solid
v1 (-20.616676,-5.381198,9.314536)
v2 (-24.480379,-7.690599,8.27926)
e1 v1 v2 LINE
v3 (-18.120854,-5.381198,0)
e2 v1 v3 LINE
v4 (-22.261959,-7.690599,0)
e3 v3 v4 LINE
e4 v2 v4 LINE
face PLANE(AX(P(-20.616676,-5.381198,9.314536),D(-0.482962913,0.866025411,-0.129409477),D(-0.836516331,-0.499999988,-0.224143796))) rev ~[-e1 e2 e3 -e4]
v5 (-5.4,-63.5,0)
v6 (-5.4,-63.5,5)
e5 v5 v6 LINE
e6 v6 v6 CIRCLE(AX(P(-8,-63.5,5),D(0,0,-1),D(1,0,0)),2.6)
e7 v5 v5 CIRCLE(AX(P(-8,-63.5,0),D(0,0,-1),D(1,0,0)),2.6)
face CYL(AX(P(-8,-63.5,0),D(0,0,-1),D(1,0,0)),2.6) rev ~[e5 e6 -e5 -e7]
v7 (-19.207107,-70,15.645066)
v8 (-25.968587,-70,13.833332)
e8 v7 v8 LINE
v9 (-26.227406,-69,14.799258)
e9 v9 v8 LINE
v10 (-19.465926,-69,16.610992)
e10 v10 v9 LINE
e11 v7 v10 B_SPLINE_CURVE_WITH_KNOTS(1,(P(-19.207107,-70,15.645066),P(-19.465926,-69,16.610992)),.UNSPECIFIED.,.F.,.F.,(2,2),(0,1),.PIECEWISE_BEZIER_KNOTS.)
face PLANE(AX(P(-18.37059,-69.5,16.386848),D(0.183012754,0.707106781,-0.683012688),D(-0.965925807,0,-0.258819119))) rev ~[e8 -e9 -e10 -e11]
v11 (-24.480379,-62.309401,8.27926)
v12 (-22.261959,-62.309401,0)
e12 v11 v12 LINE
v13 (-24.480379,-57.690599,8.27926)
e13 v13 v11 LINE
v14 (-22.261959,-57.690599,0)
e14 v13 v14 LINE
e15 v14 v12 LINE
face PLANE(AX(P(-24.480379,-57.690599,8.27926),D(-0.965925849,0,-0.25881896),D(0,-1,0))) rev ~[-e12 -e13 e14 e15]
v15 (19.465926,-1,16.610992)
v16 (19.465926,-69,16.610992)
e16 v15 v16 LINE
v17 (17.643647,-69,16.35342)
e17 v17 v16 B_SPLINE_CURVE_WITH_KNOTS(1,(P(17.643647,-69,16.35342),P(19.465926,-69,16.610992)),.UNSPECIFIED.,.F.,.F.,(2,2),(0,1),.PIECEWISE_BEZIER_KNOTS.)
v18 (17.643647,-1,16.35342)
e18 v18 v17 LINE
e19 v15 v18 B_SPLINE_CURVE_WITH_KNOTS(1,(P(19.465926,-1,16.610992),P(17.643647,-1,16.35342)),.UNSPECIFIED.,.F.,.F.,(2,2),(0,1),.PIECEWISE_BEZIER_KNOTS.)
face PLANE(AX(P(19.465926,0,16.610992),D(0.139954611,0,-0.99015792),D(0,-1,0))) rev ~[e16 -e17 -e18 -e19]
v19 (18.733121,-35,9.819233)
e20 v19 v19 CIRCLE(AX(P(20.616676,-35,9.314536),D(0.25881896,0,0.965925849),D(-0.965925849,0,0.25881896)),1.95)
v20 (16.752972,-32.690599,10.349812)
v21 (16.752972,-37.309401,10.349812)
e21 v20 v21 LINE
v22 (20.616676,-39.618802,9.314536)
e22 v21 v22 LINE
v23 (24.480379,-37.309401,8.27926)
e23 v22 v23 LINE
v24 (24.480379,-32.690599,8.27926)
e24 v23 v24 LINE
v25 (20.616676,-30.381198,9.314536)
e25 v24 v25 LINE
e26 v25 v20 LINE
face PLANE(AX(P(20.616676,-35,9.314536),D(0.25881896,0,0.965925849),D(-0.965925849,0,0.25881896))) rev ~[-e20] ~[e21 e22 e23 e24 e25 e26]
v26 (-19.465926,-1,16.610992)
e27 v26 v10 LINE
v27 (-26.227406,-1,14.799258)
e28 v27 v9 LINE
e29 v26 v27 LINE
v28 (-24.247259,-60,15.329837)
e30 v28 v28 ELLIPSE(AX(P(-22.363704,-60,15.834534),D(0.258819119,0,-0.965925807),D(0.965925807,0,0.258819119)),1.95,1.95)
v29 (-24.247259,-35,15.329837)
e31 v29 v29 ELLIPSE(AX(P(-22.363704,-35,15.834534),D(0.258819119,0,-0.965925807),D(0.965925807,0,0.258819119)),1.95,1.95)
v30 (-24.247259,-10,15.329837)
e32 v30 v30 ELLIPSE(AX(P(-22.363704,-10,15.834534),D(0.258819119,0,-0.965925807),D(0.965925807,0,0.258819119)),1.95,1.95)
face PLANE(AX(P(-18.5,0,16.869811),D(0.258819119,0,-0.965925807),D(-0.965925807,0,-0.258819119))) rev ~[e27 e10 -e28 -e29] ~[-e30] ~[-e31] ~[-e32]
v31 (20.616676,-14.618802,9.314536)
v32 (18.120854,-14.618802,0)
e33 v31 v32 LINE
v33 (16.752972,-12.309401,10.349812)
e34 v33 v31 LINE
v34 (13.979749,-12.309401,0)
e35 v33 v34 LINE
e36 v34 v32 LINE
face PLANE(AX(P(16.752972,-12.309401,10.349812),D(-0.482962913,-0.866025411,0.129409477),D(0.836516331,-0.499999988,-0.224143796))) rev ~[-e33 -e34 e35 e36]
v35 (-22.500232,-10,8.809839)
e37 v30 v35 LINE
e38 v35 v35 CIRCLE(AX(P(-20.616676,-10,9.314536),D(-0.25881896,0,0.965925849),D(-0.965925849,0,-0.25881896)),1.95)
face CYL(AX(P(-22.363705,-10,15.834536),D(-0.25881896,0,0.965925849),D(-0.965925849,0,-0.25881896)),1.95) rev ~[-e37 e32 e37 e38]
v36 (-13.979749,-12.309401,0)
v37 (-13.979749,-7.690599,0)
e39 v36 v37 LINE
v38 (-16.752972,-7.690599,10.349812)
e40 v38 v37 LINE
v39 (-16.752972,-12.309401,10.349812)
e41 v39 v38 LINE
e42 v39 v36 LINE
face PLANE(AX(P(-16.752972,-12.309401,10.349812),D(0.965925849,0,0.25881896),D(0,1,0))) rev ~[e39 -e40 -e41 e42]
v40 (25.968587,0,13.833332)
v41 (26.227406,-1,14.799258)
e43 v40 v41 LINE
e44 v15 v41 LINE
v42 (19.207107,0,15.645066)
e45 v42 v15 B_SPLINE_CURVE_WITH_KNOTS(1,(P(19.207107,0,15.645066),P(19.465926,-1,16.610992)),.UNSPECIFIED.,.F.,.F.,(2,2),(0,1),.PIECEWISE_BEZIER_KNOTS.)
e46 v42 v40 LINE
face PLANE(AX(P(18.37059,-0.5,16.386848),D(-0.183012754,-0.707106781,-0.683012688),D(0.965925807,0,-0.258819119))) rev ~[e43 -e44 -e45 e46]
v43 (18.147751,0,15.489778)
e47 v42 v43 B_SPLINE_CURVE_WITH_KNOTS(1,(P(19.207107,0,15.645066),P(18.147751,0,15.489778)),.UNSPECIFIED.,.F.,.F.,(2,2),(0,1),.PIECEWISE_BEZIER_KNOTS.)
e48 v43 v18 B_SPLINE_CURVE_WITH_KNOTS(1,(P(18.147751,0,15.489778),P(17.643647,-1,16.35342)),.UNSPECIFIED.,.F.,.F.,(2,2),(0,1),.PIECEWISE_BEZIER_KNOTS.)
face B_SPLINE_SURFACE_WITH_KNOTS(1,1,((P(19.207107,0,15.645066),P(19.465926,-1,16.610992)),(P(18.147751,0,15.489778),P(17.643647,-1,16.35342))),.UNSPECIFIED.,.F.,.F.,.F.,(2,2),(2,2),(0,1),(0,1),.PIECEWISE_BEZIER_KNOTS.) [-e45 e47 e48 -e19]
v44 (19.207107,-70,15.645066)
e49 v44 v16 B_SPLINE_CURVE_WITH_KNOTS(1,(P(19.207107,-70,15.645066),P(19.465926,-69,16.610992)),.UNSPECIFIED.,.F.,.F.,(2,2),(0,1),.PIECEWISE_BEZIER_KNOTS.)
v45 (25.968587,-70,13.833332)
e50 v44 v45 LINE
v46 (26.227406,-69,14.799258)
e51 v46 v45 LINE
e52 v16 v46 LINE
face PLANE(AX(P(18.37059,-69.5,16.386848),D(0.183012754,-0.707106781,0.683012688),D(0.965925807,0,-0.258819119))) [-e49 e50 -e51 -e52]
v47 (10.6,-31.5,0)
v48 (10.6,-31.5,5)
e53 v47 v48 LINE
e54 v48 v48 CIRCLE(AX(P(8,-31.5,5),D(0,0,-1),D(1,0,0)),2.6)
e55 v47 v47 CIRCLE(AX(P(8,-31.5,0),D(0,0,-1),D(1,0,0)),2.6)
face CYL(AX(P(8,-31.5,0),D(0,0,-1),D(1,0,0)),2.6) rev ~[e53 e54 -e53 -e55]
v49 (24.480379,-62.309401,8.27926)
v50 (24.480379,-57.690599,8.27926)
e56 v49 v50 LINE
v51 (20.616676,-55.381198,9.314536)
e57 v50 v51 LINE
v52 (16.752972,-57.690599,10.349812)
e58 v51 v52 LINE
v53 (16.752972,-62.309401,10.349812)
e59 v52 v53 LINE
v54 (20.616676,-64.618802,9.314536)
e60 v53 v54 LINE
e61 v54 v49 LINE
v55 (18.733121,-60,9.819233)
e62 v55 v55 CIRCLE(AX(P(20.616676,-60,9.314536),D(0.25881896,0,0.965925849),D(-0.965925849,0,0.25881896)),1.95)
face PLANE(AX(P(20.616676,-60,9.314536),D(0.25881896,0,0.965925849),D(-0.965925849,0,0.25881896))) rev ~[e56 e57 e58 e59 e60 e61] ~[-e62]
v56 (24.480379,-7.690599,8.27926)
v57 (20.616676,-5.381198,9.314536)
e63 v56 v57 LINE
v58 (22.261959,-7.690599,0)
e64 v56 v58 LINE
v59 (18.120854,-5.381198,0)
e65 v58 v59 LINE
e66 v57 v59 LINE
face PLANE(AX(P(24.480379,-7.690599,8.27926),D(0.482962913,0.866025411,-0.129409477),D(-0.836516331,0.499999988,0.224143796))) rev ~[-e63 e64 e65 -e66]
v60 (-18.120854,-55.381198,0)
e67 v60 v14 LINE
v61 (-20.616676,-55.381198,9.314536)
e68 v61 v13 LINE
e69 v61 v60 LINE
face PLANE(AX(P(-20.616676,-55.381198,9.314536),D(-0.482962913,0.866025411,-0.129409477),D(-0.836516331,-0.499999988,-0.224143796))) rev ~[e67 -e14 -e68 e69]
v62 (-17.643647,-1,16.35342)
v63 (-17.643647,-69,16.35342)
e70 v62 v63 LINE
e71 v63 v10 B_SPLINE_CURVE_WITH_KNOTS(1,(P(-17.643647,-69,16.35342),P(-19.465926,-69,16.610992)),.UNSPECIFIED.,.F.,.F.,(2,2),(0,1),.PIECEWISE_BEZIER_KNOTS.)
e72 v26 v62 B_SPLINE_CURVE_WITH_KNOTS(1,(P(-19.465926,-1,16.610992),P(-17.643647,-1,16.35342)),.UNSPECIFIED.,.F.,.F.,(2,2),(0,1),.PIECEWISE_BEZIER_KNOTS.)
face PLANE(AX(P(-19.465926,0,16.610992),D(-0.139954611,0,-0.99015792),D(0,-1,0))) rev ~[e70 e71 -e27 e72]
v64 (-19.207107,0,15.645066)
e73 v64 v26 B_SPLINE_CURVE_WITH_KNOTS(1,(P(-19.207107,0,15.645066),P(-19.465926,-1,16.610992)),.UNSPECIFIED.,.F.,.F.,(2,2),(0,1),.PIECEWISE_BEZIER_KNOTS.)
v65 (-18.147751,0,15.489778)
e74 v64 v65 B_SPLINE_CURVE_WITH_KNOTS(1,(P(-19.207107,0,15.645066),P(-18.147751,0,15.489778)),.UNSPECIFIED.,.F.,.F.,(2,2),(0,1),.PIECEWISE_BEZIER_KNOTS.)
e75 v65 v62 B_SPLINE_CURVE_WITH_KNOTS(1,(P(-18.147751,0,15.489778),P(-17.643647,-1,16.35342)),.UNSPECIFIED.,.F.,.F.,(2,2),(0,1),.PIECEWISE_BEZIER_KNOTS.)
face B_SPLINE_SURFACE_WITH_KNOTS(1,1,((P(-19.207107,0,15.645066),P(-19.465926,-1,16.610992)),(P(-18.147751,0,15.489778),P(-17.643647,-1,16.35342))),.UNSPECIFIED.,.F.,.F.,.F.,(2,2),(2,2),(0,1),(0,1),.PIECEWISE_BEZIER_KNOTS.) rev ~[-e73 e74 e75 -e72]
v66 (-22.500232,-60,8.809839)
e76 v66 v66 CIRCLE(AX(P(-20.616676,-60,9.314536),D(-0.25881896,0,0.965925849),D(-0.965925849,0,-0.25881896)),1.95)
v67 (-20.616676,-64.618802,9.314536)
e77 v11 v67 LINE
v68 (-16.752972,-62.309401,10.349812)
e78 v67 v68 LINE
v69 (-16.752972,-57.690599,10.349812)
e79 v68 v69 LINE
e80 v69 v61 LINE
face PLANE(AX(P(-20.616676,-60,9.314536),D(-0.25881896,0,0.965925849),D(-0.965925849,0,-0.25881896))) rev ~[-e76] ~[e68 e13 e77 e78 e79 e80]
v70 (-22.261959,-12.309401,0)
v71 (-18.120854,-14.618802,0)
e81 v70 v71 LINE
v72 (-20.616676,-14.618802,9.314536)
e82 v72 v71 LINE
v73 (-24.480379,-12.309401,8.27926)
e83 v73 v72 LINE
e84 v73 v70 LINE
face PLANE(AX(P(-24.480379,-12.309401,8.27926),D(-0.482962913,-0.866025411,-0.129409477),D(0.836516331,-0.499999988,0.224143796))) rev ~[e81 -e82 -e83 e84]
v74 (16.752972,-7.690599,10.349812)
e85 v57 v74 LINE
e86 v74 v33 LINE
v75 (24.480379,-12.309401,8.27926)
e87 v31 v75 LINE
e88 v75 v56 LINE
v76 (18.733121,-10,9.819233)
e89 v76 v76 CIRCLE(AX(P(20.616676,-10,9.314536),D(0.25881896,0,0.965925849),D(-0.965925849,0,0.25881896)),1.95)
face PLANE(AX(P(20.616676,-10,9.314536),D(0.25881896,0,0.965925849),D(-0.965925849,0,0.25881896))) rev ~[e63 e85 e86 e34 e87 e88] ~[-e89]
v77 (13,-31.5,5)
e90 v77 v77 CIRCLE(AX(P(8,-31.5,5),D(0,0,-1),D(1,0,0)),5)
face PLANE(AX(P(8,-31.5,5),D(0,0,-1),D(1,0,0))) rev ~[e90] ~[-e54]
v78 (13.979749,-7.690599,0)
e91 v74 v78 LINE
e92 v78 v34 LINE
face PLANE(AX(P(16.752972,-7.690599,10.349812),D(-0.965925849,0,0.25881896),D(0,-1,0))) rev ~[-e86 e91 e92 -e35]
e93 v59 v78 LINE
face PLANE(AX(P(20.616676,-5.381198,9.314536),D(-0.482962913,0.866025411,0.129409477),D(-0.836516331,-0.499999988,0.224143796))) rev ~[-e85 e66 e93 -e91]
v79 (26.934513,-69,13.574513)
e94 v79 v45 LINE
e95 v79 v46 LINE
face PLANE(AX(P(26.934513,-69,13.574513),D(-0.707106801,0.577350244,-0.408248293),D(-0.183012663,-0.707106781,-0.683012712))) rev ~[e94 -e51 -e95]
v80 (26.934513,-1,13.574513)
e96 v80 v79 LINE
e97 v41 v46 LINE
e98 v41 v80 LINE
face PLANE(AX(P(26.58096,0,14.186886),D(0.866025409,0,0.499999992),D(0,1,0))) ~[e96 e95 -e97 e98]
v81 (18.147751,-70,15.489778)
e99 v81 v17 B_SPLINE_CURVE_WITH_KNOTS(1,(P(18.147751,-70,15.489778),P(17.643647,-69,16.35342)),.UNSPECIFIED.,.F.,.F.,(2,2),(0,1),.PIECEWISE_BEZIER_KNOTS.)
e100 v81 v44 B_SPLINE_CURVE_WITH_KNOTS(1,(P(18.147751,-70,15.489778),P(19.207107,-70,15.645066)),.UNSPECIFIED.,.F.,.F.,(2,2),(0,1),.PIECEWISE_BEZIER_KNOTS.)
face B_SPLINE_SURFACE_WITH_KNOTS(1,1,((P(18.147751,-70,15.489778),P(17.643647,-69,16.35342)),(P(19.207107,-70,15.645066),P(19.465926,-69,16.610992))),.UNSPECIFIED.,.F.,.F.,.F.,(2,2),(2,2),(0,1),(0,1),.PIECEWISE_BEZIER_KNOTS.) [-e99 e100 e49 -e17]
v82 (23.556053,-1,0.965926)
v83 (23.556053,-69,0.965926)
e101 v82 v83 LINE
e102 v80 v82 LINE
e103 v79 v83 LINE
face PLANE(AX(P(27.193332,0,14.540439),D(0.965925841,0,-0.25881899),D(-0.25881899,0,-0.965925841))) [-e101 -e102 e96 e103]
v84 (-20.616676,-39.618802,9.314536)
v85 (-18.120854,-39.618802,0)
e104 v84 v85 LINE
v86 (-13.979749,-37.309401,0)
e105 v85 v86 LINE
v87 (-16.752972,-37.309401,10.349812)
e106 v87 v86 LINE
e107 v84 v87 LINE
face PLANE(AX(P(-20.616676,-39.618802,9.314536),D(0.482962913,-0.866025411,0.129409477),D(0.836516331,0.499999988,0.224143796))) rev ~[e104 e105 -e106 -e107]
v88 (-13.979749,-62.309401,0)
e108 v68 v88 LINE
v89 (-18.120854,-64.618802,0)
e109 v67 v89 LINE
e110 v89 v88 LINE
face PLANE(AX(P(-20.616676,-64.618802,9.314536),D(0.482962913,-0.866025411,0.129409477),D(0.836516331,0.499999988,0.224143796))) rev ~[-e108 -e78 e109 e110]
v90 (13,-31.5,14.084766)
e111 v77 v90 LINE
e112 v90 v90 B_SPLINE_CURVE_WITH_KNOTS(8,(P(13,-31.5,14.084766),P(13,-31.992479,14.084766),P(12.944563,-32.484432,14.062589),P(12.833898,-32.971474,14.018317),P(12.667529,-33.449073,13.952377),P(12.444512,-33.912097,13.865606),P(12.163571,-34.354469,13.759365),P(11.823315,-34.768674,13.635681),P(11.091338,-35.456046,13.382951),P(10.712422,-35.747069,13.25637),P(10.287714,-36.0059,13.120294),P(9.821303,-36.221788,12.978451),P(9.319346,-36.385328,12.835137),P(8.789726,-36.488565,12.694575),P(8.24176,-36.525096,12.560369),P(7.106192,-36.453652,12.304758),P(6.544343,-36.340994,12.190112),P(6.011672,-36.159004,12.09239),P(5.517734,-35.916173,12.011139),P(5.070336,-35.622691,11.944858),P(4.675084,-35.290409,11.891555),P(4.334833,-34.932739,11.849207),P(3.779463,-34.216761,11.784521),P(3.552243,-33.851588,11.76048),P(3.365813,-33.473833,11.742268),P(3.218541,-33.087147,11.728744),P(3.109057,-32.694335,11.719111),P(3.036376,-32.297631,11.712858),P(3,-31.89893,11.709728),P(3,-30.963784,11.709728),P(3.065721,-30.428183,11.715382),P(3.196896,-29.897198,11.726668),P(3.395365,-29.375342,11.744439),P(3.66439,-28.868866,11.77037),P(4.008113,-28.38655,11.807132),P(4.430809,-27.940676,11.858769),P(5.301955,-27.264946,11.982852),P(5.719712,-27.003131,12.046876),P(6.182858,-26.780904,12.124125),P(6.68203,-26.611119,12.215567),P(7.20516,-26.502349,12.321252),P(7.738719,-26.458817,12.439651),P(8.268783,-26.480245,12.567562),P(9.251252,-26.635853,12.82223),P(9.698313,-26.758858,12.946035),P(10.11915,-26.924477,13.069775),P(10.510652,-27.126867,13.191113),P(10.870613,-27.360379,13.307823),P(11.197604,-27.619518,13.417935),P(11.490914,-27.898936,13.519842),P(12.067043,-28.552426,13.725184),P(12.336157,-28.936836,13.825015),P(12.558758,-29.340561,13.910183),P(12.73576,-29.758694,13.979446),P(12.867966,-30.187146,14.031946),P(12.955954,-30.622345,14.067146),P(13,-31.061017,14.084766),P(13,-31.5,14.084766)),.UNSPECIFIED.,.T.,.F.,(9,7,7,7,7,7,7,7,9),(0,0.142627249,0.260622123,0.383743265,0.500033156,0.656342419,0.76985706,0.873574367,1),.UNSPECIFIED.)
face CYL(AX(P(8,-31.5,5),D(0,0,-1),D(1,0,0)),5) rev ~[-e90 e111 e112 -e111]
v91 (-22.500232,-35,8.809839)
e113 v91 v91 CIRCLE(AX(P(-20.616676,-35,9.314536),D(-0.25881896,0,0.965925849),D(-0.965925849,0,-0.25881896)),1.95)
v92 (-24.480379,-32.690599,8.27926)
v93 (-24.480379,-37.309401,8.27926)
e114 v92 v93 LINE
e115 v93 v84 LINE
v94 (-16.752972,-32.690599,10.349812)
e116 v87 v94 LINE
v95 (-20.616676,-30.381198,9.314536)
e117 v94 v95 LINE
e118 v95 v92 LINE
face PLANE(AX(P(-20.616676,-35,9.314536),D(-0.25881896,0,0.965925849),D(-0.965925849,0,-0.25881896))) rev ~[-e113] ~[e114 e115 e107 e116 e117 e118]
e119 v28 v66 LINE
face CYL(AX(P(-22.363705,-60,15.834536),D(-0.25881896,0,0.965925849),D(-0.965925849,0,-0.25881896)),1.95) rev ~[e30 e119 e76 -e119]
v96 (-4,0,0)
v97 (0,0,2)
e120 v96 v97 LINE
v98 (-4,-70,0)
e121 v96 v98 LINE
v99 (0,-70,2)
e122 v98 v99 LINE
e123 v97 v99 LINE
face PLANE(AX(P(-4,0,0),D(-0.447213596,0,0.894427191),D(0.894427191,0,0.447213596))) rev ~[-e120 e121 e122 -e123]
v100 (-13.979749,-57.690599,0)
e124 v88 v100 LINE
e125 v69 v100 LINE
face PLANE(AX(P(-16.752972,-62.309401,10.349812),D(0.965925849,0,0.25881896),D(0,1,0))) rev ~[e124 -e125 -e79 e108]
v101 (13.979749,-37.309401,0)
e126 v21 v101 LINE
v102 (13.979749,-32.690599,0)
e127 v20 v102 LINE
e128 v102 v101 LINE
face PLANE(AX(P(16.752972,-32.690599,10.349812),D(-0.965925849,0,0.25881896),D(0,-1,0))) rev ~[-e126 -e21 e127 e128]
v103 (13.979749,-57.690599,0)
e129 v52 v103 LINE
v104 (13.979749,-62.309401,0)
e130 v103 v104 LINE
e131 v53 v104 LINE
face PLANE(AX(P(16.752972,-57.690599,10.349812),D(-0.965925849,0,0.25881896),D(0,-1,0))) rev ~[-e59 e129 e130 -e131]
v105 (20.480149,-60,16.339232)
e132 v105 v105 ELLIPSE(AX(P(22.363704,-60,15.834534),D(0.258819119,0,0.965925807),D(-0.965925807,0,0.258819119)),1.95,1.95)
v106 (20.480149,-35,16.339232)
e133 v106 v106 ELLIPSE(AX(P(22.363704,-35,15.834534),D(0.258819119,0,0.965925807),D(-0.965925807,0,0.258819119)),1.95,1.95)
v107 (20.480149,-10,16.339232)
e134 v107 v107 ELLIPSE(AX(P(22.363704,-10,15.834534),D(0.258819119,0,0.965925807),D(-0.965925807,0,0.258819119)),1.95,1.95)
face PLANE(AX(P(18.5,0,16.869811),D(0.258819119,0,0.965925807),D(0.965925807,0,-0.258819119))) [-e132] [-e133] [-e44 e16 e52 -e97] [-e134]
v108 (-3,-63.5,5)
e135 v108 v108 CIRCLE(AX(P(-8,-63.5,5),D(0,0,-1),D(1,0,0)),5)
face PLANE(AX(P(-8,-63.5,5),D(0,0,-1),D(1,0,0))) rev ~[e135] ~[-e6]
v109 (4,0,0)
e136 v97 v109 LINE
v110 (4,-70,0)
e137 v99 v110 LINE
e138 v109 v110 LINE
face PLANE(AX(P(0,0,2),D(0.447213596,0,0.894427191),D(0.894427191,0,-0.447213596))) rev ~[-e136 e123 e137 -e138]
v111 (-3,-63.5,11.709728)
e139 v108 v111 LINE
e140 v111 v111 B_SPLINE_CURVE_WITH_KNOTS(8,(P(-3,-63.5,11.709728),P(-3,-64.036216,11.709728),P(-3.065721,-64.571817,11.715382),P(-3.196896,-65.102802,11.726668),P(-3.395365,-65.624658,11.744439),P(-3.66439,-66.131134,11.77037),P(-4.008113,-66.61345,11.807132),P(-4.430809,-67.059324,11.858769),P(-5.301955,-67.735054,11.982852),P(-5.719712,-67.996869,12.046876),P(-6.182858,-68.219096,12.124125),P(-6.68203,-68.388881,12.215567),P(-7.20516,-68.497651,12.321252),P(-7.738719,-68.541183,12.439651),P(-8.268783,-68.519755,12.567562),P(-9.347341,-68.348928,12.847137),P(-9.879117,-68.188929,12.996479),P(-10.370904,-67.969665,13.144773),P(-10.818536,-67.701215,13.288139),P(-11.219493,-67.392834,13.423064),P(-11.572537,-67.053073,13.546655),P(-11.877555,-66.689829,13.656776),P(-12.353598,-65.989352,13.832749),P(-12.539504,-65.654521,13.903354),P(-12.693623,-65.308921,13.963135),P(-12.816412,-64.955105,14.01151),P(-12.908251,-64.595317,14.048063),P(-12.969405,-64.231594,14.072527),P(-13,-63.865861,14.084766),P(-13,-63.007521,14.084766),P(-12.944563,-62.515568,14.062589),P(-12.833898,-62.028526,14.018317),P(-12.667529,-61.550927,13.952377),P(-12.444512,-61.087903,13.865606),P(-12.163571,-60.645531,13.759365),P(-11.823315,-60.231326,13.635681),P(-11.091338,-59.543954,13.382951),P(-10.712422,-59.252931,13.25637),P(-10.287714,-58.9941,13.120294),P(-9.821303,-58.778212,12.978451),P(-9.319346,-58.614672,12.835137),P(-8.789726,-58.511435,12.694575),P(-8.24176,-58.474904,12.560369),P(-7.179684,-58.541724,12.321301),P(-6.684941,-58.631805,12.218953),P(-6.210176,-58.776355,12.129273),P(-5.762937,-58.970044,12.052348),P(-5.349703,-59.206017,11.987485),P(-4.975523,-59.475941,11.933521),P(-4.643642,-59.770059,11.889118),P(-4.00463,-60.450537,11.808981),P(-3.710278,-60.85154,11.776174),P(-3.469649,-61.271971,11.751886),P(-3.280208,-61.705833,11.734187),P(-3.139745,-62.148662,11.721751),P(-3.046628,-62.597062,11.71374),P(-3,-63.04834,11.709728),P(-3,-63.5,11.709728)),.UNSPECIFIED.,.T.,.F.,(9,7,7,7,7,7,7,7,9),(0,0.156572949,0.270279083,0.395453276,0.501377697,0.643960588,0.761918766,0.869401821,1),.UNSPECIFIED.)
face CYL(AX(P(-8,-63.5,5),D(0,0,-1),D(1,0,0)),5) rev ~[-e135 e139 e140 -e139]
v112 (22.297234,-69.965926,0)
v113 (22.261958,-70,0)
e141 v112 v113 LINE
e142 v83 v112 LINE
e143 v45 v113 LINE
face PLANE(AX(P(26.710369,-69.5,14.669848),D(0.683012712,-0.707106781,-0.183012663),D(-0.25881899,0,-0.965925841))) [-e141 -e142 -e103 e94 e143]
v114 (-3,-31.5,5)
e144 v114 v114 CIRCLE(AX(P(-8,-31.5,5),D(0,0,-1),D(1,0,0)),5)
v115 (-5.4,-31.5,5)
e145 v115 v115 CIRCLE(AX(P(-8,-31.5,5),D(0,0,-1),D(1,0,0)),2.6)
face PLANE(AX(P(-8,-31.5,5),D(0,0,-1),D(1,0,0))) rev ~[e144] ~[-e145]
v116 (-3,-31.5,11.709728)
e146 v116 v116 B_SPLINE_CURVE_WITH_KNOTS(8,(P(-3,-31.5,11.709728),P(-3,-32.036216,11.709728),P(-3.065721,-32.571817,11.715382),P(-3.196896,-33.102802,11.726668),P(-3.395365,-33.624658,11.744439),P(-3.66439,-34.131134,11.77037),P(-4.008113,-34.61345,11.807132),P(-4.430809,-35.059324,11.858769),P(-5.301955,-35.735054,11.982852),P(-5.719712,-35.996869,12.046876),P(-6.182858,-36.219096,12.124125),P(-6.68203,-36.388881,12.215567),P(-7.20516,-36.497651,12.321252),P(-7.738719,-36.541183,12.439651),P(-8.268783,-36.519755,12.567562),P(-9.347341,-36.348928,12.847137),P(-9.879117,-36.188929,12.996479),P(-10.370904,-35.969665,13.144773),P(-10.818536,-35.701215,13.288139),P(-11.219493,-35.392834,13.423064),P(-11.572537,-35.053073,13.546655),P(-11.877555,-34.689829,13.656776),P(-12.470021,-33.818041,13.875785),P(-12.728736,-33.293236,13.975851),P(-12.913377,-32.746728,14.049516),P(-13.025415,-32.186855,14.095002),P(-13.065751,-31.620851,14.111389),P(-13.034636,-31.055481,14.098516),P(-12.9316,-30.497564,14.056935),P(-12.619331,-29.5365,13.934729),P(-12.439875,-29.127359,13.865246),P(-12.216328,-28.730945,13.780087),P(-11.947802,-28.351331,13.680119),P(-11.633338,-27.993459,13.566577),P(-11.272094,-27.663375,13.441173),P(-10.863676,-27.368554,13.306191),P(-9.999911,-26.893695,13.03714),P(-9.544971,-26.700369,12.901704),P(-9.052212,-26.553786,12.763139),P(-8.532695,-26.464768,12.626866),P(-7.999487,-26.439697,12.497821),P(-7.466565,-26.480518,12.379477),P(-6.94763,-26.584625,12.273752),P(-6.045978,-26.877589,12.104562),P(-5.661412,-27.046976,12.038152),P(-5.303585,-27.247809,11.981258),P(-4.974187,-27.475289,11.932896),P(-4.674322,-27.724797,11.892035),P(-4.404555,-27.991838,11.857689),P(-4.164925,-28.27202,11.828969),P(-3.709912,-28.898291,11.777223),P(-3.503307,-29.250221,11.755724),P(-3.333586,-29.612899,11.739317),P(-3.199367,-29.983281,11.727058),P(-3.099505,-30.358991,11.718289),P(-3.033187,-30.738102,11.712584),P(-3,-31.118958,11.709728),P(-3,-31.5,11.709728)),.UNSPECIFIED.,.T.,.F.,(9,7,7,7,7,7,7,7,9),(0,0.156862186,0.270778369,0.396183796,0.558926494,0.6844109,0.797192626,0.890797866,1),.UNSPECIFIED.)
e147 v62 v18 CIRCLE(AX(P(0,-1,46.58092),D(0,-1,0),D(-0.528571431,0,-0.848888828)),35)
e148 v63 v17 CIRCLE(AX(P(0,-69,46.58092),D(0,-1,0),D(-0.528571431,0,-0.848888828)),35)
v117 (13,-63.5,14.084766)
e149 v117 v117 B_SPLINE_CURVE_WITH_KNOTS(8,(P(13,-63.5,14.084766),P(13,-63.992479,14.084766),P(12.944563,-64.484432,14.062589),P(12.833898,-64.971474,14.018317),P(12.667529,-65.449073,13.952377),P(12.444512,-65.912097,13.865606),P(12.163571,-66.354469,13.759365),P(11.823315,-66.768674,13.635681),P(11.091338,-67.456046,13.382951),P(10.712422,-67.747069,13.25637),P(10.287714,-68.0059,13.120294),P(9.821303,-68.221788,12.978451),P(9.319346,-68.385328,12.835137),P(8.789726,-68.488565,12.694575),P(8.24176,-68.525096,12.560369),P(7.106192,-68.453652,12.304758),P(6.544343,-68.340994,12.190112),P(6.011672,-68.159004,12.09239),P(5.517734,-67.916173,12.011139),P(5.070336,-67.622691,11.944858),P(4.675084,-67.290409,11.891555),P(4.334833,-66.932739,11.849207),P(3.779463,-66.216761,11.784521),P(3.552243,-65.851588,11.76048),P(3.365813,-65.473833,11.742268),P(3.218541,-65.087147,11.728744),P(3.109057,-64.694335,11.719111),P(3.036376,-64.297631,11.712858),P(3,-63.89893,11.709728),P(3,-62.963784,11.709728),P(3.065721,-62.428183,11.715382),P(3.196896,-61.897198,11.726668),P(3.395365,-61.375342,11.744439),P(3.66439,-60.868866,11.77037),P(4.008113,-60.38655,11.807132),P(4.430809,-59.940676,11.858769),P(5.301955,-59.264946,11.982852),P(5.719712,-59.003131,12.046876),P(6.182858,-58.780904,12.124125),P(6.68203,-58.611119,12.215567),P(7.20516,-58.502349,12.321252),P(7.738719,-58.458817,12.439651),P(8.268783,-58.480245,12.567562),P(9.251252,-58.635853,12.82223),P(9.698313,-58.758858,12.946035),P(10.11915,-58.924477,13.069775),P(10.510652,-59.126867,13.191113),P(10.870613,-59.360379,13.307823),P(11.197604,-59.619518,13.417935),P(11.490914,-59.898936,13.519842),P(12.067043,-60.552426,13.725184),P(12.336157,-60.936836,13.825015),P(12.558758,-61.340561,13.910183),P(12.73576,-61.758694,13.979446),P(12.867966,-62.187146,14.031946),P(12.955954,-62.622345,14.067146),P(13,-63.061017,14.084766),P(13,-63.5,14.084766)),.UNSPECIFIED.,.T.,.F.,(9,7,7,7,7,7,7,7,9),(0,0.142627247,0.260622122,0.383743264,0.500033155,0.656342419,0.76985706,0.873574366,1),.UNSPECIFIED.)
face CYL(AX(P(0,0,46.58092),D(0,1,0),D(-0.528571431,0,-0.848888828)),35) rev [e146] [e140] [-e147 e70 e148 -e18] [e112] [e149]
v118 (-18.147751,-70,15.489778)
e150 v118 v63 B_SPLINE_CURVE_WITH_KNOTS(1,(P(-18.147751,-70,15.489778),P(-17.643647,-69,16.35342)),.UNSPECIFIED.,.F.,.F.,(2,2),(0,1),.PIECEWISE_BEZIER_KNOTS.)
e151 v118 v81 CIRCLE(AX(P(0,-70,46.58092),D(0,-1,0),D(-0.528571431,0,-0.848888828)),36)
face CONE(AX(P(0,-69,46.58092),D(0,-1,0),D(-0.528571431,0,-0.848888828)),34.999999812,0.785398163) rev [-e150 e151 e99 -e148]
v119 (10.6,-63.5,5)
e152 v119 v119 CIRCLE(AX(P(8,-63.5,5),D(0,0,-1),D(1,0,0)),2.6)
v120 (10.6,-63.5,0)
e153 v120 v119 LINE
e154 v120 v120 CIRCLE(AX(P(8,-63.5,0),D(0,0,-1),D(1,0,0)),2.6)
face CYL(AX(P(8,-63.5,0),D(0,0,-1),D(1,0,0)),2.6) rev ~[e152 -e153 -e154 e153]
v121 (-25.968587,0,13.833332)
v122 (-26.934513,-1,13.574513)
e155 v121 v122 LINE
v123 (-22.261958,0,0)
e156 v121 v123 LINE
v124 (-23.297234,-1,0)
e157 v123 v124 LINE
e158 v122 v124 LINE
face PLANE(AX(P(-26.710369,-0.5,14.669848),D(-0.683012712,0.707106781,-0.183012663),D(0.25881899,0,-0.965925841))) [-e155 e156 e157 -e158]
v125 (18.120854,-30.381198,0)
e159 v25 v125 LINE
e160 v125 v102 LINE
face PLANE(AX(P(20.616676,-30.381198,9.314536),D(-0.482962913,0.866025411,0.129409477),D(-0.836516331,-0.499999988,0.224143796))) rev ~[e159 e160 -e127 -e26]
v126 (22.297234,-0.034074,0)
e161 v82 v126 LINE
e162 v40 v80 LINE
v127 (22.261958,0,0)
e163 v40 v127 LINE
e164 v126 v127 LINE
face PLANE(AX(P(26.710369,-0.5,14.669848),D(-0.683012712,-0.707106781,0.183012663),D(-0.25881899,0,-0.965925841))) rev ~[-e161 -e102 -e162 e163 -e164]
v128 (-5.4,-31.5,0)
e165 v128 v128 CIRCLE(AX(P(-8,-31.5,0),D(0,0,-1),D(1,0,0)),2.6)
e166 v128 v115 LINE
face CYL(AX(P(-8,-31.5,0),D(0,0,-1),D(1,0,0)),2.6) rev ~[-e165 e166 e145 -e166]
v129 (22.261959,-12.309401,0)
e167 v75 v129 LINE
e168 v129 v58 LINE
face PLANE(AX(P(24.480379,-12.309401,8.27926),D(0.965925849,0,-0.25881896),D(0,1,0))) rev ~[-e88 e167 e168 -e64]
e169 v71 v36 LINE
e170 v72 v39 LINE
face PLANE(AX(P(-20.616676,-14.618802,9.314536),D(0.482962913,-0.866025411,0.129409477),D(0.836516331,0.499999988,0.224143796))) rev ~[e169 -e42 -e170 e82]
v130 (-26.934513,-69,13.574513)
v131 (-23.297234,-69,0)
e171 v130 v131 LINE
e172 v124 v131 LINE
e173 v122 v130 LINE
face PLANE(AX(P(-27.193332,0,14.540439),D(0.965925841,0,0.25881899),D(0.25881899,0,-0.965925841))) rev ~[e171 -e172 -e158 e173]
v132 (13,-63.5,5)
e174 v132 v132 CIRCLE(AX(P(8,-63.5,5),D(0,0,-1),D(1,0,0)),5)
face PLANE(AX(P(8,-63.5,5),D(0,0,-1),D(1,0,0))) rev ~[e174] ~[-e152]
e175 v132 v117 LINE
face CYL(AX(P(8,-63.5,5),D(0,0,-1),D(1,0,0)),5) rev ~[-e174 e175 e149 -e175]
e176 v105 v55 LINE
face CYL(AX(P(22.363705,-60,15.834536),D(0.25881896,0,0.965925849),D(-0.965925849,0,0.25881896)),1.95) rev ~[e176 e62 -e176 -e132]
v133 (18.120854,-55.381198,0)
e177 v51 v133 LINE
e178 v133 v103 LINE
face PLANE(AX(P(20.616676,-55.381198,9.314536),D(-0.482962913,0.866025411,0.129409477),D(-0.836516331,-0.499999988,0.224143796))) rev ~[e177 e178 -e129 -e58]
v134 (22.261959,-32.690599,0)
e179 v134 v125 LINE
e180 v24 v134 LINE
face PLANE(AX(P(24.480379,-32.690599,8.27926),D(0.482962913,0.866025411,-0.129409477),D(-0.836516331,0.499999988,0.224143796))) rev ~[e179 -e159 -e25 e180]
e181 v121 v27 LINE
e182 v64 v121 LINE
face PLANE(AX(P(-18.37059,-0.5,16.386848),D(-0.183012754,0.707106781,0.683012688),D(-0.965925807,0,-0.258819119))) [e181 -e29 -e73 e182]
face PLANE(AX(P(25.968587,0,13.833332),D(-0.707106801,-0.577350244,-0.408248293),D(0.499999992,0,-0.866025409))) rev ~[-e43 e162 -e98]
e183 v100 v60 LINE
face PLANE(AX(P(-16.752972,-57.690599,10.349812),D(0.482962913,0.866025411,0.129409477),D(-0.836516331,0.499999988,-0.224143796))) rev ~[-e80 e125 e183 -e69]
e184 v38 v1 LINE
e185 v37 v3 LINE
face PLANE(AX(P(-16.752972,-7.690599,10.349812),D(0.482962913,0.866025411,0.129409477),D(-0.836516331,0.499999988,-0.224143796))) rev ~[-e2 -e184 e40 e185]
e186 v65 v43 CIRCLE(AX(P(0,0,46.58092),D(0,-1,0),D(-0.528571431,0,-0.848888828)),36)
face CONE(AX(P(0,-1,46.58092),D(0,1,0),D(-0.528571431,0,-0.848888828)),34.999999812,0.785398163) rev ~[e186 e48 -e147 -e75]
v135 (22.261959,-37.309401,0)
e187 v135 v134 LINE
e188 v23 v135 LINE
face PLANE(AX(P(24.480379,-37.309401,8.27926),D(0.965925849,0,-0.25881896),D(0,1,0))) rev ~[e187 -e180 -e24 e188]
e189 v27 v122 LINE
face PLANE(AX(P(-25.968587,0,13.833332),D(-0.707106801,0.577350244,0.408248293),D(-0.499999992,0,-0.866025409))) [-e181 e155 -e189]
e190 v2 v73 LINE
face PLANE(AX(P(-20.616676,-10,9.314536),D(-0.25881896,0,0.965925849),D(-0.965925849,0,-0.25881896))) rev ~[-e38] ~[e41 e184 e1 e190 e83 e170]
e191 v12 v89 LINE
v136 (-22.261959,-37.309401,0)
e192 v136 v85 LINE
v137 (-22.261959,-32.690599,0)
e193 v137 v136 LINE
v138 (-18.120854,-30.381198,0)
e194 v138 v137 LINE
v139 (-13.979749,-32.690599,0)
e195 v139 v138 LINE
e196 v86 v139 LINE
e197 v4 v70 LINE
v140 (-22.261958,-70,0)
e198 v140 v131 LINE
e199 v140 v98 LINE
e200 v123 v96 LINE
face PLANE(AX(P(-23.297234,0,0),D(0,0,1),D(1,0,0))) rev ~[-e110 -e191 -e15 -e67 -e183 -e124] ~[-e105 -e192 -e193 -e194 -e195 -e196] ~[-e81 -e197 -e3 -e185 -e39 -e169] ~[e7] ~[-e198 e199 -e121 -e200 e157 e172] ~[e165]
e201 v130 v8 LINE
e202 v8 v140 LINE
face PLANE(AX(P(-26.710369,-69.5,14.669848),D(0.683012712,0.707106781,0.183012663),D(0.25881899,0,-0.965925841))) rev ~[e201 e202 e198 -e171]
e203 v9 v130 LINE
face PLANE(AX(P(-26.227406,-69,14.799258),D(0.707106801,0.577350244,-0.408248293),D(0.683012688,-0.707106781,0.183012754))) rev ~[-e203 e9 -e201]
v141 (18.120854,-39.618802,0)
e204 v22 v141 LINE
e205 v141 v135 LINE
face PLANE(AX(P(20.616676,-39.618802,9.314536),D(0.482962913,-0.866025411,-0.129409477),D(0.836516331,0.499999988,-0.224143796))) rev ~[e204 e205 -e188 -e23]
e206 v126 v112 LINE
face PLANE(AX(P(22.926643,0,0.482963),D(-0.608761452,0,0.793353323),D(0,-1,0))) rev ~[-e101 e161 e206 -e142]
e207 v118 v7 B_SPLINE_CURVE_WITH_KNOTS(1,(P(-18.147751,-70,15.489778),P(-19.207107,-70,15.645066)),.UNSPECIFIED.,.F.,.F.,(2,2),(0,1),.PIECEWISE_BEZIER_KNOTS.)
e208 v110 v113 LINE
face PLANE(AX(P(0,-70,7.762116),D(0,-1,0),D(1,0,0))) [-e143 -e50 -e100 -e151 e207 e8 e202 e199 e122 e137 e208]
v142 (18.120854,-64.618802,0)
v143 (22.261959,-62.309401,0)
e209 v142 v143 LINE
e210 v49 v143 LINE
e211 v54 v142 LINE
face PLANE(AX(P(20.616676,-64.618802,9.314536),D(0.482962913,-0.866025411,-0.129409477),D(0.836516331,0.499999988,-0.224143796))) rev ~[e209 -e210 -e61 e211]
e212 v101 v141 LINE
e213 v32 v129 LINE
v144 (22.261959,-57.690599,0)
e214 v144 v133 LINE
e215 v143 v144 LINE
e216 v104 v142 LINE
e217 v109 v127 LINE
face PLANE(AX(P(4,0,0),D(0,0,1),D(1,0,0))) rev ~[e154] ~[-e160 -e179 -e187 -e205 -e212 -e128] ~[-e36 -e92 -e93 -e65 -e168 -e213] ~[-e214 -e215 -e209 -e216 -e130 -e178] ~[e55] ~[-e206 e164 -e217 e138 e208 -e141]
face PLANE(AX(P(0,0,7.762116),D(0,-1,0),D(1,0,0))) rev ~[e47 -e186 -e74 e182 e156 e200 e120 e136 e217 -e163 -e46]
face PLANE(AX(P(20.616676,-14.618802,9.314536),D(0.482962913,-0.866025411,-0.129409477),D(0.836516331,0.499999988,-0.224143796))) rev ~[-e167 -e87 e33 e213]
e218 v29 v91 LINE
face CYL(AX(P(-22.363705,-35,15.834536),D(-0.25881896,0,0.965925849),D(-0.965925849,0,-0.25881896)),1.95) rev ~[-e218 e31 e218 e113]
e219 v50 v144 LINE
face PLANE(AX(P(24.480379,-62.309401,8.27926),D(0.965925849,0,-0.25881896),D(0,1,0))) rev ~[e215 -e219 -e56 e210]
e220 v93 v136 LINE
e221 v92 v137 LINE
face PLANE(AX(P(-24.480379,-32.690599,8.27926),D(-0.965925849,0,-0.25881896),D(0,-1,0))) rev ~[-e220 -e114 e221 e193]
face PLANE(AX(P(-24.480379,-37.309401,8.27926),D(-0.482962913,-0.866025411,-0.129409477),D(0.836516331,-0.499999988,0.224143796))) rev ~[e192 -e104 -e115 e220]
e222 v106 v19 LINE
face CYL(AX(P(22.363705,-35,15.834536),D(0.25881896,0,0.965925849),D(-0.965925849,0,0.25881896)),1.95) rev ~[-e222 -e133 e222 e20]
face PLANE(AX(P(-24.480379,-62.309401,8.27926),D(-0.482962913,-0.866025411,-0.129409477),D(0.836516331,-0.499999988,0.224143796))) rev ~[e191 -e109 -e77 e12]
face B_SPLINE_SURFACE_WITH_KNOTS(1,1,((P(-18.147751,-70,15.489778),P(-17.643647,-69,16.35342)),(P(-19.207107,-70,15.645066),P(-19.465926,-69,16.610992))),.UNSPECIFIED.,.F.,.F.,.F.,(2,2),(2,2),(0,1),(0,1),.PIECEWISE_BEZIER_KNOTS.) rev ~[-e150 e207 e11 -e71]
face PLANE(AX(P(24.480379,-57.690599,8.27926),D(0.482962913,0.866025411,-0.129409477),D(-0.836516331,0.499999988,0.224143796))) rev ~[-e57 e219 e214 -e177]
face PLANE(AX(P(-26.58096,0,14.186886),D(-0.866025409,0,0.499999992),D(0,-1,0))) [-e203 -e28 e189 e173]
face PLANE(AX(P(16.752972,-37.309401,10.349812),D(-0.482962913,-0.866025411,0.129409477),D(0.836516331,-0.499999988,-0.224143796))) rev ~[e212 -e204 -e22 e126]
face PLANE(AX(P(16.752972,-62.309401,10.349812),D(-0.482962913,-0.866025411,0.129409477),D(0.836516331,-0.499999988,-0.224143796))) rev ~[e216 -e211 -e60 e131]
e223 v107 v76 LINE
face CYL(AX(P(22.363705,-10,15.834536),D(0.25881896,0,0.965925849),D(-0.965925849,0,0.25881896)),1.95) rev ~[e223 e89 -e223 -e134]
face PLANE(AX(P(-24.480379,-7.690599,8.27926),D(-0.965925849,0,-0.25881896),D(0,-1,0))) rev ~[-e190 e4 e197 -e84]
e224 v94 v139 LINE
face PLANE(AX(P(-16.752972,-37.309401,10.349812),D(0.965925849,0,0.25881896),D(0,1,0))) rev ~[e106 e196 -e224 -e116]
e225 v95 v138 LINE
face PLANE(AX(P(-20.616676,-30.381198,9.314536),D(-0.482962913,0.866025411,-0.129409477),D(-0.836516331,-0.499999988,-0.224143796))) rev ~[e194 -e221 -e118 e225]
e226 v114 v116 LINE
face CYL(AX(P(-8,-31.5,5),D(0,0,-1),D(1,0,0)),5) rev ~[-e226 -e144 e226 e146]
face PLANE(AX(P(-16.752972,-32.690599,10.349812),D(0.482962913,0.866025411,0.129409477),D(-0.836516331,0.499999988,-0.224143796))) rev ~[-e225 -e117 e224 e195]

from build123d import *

# Parameters (mm, degrees)
PAD_DEPTH       = 70
SKETCH001_R     = 2.6
POCKET_DEPTH    = 16.870811
SKETCH002_R     = 5
POCKET001_DEPTH = 11.870811
SKETCH003_R     = 1.95
POCKET002_DEPTH = 28.12229
SKETCH004_R     = 1.95
POCKET003_DEPTH = 28.12229
POCKET004_DEPTH = 21.37229
POCKET005_DEPTH = 21.37229
CHAMFER_SIZE    = 1


with BuildPart() as part:
    # Sketch → Pad (new body)
    with BuildSketch(Plane.XZ):
        with BuildLine():
            Line((-12.5, 0), (-4, 0))
            Line((-4, 0), (0, 2))
            Line((0, 2), (4, 0))
            Line((4, 0), (12.5, 0))
            Line((12.5, 0), (23.297234, 0))
            Line((27.193332, 14.540439), (23.297234, 0))
            Line((18.5, 16.869811), (27.193332, 14.540439))
            ThreePointArc((-18.5, 16.869811), (0, 11.58092), (18.5, 16.869811))
            Line((-18.5, 16.869811), (-27.193332, 14.540439))
            Line((-27.193332, 14.540439), (-23.297234, 0))
            Line((-12.5, 0), (-23.297234, 0))
        make_face()
    extrude(amount=PAD_DEPTH)

    # Sketch001 (on Face1 of Pad) → Pocket (cut, through all)
    with BuildSketch(Plane(origin=(0, 0, 0), x_dir=(1, 0, 0), z_dir=(0, 0, -1))):
        with Locations((-8, 63.5)):
            Circle(SKETCH001_R)
        with Locations((8, 63.5)):
            Circle(SKETCH001_R)
        with Locations((-8, 31.5)):
            Circle(SKETCH001_R)
        with Locations((8, 31.5)):
            Circle(SKETCH001_R)
    extrude(amount=-POCKET_DEPTH, mode=Mode.SUBTRACT)

    # Sketch002 → Pocket001 (cut, through all)
    with BuildSketch(Plane(origin=(0, 0, 5), x_dir=(1, 0, 0), z_dir=(0, 0, -1))):
        with Locations((-8, 63.5)):
            Circle(SKETCH002_R)
        with Locations((8, 63.5)):
            Circle(SKETCH002_R)
        with Locations((8, 31.5)):
            Circle(SKETCH002_R)
        with Locations((-8, 31.5)):
            Circle(SKETCH002_R)
    extrude(amount=-POCKET001_DEPTH, mode=Mode.SUBTRACT)

    # Sketch003 (on Face15 of Pocket001) → Pocket002 (cut, through all)
    with BuildSketch(Plane(origin=(-5.456718, 0, 20.364748), x_dir=(-0.965926, 0, -0.258819), z_dir=(-0.258819, 0, 0.965926))):
        with Locations((17.5034, 60)):
            Circle(SKETCH003_R)
        with Locations((17.5034, 35)):
            Circle(SKETCH003_R)
        with Locations((17.5034, 10)):
            Circle(SKETCH003_R)
    extrude(amount=-POCKET002_DEPTH, mode=Mode.SUBTRACT)

    # Sketch004 (on Face16 of Pocket002) → Pocket003 (cut, through all)
    with BuildSketch(Plane(origin=(5.456718, 0, 20.364748), x_dir=(-0.965926, 0, 0.258819), z_dir=(0.258819, 0, 0.965926))):
        with Locations((-17.5034, 60)):
            Circle(SKETCH004_R)
        with Locations((-17.5034, 35)):
            Circle(SKETCH004_R)
        with Locations((-17.5034, 10)):
            Circle(SKETCH004_R)
    extrude(amount=-POCKET003_DEPTH, mode=Mode.SUBTRACT)

    # Sketch005 (on DatumPlane) → Pocket004 (cut, through all)
    with BuildSketch(Plane(origin=(3.709689, 0, 13.844748), x_dir=(-0.965926, 0, 0.258819), z_dir=(0.258819, 0, 0.965926))):
        Polygon((-13.5034, 62.309401), (-17.5034, 64.618802), (-21.5034, 62.309401), (-21.5034, 57.690599), (-17.5034, 55.381198), (-13.5034, 57.690599), align=None)
        Polygon((-13.5034, 37.309401), (-17.5034, 39.618802), (-21.5034, 37.309401), (-21.5034, 32.690599), (-17.5034, 30.381198), (-13.5034, 32.690599), align=None)
        Polygon((-13.5034, 12.309401), (-17.5034, 14.618802), (-21.5034, 12.309401), (-21.5034, 7.690599), (-17.5034, 5.381198), (-13.5034, 7.690599), align=None)
    extrude(amount=-POCKET004_DEPTH, mode=Mode.SUBTRACT)

    # Sketch006 (on DatumPlane) → Pocket005 (cut, through all)
    with BuildSketch(Plane(origin=(-3.709689, 0, 13.844748), x_dir=(-0.965926, 0, -0.258819), z_dir=(-0.258819, 0, 0.965926))):
        Polygon((21.5034, 62.309401), (17.5034, 64.618802), (13.5034, 62.309401), (13.5034, 57.690599), (17.5034, 55.381198), (21.5034, 57.690599), align=None)
        Polygon((21.5034, 37.309401), (17.5034, 39.618802), (13.5034, 37.309401), (13.5034, 32.690599), (17.5034, 30.381198), (21.5034, 32.690599), align=None)
        Polygon((21.5034, 12.309401), (17.5034, 14.618802), (13.5034, 12.309401), (13.5034, 7.690599), (17.5034, 5.381198), (21.5034, 7.690599), align=None)
    extrude(amount=-POCKET005_DEPTH, mode=Mode.SUBTRACT)

    # Chamfer
    chamfer_edges = [part.edges().sort_by_distance(p)[0] for p in [
        (-25.245283, -70, 7.27022),
        (-27.193332, -35, 14.540439),
        (-22.846666, -70, 15.705125),
        (-18.5, -35, 16.869811),
        (-22.846666, 0, 15.705125),
        (-25.245283, 0, 7.27022),
        (22.846666, -70, 15.705125),
        (18.5, -35, 16.869811),
        (27.193332, -35, 14.540439),
        (22.846666, 0, 15.705125),
        (25.245283, -70, 7.27022),
        (25.245283, 0, 7.27022),
        (23.297234, -35, 0),
        (0, 0, 11.58092),
        (0, -70, 11.58092),
    ]]
    chamfer(chamfer_edges, length=CHAMFER_SIZE)


solid = part.part
